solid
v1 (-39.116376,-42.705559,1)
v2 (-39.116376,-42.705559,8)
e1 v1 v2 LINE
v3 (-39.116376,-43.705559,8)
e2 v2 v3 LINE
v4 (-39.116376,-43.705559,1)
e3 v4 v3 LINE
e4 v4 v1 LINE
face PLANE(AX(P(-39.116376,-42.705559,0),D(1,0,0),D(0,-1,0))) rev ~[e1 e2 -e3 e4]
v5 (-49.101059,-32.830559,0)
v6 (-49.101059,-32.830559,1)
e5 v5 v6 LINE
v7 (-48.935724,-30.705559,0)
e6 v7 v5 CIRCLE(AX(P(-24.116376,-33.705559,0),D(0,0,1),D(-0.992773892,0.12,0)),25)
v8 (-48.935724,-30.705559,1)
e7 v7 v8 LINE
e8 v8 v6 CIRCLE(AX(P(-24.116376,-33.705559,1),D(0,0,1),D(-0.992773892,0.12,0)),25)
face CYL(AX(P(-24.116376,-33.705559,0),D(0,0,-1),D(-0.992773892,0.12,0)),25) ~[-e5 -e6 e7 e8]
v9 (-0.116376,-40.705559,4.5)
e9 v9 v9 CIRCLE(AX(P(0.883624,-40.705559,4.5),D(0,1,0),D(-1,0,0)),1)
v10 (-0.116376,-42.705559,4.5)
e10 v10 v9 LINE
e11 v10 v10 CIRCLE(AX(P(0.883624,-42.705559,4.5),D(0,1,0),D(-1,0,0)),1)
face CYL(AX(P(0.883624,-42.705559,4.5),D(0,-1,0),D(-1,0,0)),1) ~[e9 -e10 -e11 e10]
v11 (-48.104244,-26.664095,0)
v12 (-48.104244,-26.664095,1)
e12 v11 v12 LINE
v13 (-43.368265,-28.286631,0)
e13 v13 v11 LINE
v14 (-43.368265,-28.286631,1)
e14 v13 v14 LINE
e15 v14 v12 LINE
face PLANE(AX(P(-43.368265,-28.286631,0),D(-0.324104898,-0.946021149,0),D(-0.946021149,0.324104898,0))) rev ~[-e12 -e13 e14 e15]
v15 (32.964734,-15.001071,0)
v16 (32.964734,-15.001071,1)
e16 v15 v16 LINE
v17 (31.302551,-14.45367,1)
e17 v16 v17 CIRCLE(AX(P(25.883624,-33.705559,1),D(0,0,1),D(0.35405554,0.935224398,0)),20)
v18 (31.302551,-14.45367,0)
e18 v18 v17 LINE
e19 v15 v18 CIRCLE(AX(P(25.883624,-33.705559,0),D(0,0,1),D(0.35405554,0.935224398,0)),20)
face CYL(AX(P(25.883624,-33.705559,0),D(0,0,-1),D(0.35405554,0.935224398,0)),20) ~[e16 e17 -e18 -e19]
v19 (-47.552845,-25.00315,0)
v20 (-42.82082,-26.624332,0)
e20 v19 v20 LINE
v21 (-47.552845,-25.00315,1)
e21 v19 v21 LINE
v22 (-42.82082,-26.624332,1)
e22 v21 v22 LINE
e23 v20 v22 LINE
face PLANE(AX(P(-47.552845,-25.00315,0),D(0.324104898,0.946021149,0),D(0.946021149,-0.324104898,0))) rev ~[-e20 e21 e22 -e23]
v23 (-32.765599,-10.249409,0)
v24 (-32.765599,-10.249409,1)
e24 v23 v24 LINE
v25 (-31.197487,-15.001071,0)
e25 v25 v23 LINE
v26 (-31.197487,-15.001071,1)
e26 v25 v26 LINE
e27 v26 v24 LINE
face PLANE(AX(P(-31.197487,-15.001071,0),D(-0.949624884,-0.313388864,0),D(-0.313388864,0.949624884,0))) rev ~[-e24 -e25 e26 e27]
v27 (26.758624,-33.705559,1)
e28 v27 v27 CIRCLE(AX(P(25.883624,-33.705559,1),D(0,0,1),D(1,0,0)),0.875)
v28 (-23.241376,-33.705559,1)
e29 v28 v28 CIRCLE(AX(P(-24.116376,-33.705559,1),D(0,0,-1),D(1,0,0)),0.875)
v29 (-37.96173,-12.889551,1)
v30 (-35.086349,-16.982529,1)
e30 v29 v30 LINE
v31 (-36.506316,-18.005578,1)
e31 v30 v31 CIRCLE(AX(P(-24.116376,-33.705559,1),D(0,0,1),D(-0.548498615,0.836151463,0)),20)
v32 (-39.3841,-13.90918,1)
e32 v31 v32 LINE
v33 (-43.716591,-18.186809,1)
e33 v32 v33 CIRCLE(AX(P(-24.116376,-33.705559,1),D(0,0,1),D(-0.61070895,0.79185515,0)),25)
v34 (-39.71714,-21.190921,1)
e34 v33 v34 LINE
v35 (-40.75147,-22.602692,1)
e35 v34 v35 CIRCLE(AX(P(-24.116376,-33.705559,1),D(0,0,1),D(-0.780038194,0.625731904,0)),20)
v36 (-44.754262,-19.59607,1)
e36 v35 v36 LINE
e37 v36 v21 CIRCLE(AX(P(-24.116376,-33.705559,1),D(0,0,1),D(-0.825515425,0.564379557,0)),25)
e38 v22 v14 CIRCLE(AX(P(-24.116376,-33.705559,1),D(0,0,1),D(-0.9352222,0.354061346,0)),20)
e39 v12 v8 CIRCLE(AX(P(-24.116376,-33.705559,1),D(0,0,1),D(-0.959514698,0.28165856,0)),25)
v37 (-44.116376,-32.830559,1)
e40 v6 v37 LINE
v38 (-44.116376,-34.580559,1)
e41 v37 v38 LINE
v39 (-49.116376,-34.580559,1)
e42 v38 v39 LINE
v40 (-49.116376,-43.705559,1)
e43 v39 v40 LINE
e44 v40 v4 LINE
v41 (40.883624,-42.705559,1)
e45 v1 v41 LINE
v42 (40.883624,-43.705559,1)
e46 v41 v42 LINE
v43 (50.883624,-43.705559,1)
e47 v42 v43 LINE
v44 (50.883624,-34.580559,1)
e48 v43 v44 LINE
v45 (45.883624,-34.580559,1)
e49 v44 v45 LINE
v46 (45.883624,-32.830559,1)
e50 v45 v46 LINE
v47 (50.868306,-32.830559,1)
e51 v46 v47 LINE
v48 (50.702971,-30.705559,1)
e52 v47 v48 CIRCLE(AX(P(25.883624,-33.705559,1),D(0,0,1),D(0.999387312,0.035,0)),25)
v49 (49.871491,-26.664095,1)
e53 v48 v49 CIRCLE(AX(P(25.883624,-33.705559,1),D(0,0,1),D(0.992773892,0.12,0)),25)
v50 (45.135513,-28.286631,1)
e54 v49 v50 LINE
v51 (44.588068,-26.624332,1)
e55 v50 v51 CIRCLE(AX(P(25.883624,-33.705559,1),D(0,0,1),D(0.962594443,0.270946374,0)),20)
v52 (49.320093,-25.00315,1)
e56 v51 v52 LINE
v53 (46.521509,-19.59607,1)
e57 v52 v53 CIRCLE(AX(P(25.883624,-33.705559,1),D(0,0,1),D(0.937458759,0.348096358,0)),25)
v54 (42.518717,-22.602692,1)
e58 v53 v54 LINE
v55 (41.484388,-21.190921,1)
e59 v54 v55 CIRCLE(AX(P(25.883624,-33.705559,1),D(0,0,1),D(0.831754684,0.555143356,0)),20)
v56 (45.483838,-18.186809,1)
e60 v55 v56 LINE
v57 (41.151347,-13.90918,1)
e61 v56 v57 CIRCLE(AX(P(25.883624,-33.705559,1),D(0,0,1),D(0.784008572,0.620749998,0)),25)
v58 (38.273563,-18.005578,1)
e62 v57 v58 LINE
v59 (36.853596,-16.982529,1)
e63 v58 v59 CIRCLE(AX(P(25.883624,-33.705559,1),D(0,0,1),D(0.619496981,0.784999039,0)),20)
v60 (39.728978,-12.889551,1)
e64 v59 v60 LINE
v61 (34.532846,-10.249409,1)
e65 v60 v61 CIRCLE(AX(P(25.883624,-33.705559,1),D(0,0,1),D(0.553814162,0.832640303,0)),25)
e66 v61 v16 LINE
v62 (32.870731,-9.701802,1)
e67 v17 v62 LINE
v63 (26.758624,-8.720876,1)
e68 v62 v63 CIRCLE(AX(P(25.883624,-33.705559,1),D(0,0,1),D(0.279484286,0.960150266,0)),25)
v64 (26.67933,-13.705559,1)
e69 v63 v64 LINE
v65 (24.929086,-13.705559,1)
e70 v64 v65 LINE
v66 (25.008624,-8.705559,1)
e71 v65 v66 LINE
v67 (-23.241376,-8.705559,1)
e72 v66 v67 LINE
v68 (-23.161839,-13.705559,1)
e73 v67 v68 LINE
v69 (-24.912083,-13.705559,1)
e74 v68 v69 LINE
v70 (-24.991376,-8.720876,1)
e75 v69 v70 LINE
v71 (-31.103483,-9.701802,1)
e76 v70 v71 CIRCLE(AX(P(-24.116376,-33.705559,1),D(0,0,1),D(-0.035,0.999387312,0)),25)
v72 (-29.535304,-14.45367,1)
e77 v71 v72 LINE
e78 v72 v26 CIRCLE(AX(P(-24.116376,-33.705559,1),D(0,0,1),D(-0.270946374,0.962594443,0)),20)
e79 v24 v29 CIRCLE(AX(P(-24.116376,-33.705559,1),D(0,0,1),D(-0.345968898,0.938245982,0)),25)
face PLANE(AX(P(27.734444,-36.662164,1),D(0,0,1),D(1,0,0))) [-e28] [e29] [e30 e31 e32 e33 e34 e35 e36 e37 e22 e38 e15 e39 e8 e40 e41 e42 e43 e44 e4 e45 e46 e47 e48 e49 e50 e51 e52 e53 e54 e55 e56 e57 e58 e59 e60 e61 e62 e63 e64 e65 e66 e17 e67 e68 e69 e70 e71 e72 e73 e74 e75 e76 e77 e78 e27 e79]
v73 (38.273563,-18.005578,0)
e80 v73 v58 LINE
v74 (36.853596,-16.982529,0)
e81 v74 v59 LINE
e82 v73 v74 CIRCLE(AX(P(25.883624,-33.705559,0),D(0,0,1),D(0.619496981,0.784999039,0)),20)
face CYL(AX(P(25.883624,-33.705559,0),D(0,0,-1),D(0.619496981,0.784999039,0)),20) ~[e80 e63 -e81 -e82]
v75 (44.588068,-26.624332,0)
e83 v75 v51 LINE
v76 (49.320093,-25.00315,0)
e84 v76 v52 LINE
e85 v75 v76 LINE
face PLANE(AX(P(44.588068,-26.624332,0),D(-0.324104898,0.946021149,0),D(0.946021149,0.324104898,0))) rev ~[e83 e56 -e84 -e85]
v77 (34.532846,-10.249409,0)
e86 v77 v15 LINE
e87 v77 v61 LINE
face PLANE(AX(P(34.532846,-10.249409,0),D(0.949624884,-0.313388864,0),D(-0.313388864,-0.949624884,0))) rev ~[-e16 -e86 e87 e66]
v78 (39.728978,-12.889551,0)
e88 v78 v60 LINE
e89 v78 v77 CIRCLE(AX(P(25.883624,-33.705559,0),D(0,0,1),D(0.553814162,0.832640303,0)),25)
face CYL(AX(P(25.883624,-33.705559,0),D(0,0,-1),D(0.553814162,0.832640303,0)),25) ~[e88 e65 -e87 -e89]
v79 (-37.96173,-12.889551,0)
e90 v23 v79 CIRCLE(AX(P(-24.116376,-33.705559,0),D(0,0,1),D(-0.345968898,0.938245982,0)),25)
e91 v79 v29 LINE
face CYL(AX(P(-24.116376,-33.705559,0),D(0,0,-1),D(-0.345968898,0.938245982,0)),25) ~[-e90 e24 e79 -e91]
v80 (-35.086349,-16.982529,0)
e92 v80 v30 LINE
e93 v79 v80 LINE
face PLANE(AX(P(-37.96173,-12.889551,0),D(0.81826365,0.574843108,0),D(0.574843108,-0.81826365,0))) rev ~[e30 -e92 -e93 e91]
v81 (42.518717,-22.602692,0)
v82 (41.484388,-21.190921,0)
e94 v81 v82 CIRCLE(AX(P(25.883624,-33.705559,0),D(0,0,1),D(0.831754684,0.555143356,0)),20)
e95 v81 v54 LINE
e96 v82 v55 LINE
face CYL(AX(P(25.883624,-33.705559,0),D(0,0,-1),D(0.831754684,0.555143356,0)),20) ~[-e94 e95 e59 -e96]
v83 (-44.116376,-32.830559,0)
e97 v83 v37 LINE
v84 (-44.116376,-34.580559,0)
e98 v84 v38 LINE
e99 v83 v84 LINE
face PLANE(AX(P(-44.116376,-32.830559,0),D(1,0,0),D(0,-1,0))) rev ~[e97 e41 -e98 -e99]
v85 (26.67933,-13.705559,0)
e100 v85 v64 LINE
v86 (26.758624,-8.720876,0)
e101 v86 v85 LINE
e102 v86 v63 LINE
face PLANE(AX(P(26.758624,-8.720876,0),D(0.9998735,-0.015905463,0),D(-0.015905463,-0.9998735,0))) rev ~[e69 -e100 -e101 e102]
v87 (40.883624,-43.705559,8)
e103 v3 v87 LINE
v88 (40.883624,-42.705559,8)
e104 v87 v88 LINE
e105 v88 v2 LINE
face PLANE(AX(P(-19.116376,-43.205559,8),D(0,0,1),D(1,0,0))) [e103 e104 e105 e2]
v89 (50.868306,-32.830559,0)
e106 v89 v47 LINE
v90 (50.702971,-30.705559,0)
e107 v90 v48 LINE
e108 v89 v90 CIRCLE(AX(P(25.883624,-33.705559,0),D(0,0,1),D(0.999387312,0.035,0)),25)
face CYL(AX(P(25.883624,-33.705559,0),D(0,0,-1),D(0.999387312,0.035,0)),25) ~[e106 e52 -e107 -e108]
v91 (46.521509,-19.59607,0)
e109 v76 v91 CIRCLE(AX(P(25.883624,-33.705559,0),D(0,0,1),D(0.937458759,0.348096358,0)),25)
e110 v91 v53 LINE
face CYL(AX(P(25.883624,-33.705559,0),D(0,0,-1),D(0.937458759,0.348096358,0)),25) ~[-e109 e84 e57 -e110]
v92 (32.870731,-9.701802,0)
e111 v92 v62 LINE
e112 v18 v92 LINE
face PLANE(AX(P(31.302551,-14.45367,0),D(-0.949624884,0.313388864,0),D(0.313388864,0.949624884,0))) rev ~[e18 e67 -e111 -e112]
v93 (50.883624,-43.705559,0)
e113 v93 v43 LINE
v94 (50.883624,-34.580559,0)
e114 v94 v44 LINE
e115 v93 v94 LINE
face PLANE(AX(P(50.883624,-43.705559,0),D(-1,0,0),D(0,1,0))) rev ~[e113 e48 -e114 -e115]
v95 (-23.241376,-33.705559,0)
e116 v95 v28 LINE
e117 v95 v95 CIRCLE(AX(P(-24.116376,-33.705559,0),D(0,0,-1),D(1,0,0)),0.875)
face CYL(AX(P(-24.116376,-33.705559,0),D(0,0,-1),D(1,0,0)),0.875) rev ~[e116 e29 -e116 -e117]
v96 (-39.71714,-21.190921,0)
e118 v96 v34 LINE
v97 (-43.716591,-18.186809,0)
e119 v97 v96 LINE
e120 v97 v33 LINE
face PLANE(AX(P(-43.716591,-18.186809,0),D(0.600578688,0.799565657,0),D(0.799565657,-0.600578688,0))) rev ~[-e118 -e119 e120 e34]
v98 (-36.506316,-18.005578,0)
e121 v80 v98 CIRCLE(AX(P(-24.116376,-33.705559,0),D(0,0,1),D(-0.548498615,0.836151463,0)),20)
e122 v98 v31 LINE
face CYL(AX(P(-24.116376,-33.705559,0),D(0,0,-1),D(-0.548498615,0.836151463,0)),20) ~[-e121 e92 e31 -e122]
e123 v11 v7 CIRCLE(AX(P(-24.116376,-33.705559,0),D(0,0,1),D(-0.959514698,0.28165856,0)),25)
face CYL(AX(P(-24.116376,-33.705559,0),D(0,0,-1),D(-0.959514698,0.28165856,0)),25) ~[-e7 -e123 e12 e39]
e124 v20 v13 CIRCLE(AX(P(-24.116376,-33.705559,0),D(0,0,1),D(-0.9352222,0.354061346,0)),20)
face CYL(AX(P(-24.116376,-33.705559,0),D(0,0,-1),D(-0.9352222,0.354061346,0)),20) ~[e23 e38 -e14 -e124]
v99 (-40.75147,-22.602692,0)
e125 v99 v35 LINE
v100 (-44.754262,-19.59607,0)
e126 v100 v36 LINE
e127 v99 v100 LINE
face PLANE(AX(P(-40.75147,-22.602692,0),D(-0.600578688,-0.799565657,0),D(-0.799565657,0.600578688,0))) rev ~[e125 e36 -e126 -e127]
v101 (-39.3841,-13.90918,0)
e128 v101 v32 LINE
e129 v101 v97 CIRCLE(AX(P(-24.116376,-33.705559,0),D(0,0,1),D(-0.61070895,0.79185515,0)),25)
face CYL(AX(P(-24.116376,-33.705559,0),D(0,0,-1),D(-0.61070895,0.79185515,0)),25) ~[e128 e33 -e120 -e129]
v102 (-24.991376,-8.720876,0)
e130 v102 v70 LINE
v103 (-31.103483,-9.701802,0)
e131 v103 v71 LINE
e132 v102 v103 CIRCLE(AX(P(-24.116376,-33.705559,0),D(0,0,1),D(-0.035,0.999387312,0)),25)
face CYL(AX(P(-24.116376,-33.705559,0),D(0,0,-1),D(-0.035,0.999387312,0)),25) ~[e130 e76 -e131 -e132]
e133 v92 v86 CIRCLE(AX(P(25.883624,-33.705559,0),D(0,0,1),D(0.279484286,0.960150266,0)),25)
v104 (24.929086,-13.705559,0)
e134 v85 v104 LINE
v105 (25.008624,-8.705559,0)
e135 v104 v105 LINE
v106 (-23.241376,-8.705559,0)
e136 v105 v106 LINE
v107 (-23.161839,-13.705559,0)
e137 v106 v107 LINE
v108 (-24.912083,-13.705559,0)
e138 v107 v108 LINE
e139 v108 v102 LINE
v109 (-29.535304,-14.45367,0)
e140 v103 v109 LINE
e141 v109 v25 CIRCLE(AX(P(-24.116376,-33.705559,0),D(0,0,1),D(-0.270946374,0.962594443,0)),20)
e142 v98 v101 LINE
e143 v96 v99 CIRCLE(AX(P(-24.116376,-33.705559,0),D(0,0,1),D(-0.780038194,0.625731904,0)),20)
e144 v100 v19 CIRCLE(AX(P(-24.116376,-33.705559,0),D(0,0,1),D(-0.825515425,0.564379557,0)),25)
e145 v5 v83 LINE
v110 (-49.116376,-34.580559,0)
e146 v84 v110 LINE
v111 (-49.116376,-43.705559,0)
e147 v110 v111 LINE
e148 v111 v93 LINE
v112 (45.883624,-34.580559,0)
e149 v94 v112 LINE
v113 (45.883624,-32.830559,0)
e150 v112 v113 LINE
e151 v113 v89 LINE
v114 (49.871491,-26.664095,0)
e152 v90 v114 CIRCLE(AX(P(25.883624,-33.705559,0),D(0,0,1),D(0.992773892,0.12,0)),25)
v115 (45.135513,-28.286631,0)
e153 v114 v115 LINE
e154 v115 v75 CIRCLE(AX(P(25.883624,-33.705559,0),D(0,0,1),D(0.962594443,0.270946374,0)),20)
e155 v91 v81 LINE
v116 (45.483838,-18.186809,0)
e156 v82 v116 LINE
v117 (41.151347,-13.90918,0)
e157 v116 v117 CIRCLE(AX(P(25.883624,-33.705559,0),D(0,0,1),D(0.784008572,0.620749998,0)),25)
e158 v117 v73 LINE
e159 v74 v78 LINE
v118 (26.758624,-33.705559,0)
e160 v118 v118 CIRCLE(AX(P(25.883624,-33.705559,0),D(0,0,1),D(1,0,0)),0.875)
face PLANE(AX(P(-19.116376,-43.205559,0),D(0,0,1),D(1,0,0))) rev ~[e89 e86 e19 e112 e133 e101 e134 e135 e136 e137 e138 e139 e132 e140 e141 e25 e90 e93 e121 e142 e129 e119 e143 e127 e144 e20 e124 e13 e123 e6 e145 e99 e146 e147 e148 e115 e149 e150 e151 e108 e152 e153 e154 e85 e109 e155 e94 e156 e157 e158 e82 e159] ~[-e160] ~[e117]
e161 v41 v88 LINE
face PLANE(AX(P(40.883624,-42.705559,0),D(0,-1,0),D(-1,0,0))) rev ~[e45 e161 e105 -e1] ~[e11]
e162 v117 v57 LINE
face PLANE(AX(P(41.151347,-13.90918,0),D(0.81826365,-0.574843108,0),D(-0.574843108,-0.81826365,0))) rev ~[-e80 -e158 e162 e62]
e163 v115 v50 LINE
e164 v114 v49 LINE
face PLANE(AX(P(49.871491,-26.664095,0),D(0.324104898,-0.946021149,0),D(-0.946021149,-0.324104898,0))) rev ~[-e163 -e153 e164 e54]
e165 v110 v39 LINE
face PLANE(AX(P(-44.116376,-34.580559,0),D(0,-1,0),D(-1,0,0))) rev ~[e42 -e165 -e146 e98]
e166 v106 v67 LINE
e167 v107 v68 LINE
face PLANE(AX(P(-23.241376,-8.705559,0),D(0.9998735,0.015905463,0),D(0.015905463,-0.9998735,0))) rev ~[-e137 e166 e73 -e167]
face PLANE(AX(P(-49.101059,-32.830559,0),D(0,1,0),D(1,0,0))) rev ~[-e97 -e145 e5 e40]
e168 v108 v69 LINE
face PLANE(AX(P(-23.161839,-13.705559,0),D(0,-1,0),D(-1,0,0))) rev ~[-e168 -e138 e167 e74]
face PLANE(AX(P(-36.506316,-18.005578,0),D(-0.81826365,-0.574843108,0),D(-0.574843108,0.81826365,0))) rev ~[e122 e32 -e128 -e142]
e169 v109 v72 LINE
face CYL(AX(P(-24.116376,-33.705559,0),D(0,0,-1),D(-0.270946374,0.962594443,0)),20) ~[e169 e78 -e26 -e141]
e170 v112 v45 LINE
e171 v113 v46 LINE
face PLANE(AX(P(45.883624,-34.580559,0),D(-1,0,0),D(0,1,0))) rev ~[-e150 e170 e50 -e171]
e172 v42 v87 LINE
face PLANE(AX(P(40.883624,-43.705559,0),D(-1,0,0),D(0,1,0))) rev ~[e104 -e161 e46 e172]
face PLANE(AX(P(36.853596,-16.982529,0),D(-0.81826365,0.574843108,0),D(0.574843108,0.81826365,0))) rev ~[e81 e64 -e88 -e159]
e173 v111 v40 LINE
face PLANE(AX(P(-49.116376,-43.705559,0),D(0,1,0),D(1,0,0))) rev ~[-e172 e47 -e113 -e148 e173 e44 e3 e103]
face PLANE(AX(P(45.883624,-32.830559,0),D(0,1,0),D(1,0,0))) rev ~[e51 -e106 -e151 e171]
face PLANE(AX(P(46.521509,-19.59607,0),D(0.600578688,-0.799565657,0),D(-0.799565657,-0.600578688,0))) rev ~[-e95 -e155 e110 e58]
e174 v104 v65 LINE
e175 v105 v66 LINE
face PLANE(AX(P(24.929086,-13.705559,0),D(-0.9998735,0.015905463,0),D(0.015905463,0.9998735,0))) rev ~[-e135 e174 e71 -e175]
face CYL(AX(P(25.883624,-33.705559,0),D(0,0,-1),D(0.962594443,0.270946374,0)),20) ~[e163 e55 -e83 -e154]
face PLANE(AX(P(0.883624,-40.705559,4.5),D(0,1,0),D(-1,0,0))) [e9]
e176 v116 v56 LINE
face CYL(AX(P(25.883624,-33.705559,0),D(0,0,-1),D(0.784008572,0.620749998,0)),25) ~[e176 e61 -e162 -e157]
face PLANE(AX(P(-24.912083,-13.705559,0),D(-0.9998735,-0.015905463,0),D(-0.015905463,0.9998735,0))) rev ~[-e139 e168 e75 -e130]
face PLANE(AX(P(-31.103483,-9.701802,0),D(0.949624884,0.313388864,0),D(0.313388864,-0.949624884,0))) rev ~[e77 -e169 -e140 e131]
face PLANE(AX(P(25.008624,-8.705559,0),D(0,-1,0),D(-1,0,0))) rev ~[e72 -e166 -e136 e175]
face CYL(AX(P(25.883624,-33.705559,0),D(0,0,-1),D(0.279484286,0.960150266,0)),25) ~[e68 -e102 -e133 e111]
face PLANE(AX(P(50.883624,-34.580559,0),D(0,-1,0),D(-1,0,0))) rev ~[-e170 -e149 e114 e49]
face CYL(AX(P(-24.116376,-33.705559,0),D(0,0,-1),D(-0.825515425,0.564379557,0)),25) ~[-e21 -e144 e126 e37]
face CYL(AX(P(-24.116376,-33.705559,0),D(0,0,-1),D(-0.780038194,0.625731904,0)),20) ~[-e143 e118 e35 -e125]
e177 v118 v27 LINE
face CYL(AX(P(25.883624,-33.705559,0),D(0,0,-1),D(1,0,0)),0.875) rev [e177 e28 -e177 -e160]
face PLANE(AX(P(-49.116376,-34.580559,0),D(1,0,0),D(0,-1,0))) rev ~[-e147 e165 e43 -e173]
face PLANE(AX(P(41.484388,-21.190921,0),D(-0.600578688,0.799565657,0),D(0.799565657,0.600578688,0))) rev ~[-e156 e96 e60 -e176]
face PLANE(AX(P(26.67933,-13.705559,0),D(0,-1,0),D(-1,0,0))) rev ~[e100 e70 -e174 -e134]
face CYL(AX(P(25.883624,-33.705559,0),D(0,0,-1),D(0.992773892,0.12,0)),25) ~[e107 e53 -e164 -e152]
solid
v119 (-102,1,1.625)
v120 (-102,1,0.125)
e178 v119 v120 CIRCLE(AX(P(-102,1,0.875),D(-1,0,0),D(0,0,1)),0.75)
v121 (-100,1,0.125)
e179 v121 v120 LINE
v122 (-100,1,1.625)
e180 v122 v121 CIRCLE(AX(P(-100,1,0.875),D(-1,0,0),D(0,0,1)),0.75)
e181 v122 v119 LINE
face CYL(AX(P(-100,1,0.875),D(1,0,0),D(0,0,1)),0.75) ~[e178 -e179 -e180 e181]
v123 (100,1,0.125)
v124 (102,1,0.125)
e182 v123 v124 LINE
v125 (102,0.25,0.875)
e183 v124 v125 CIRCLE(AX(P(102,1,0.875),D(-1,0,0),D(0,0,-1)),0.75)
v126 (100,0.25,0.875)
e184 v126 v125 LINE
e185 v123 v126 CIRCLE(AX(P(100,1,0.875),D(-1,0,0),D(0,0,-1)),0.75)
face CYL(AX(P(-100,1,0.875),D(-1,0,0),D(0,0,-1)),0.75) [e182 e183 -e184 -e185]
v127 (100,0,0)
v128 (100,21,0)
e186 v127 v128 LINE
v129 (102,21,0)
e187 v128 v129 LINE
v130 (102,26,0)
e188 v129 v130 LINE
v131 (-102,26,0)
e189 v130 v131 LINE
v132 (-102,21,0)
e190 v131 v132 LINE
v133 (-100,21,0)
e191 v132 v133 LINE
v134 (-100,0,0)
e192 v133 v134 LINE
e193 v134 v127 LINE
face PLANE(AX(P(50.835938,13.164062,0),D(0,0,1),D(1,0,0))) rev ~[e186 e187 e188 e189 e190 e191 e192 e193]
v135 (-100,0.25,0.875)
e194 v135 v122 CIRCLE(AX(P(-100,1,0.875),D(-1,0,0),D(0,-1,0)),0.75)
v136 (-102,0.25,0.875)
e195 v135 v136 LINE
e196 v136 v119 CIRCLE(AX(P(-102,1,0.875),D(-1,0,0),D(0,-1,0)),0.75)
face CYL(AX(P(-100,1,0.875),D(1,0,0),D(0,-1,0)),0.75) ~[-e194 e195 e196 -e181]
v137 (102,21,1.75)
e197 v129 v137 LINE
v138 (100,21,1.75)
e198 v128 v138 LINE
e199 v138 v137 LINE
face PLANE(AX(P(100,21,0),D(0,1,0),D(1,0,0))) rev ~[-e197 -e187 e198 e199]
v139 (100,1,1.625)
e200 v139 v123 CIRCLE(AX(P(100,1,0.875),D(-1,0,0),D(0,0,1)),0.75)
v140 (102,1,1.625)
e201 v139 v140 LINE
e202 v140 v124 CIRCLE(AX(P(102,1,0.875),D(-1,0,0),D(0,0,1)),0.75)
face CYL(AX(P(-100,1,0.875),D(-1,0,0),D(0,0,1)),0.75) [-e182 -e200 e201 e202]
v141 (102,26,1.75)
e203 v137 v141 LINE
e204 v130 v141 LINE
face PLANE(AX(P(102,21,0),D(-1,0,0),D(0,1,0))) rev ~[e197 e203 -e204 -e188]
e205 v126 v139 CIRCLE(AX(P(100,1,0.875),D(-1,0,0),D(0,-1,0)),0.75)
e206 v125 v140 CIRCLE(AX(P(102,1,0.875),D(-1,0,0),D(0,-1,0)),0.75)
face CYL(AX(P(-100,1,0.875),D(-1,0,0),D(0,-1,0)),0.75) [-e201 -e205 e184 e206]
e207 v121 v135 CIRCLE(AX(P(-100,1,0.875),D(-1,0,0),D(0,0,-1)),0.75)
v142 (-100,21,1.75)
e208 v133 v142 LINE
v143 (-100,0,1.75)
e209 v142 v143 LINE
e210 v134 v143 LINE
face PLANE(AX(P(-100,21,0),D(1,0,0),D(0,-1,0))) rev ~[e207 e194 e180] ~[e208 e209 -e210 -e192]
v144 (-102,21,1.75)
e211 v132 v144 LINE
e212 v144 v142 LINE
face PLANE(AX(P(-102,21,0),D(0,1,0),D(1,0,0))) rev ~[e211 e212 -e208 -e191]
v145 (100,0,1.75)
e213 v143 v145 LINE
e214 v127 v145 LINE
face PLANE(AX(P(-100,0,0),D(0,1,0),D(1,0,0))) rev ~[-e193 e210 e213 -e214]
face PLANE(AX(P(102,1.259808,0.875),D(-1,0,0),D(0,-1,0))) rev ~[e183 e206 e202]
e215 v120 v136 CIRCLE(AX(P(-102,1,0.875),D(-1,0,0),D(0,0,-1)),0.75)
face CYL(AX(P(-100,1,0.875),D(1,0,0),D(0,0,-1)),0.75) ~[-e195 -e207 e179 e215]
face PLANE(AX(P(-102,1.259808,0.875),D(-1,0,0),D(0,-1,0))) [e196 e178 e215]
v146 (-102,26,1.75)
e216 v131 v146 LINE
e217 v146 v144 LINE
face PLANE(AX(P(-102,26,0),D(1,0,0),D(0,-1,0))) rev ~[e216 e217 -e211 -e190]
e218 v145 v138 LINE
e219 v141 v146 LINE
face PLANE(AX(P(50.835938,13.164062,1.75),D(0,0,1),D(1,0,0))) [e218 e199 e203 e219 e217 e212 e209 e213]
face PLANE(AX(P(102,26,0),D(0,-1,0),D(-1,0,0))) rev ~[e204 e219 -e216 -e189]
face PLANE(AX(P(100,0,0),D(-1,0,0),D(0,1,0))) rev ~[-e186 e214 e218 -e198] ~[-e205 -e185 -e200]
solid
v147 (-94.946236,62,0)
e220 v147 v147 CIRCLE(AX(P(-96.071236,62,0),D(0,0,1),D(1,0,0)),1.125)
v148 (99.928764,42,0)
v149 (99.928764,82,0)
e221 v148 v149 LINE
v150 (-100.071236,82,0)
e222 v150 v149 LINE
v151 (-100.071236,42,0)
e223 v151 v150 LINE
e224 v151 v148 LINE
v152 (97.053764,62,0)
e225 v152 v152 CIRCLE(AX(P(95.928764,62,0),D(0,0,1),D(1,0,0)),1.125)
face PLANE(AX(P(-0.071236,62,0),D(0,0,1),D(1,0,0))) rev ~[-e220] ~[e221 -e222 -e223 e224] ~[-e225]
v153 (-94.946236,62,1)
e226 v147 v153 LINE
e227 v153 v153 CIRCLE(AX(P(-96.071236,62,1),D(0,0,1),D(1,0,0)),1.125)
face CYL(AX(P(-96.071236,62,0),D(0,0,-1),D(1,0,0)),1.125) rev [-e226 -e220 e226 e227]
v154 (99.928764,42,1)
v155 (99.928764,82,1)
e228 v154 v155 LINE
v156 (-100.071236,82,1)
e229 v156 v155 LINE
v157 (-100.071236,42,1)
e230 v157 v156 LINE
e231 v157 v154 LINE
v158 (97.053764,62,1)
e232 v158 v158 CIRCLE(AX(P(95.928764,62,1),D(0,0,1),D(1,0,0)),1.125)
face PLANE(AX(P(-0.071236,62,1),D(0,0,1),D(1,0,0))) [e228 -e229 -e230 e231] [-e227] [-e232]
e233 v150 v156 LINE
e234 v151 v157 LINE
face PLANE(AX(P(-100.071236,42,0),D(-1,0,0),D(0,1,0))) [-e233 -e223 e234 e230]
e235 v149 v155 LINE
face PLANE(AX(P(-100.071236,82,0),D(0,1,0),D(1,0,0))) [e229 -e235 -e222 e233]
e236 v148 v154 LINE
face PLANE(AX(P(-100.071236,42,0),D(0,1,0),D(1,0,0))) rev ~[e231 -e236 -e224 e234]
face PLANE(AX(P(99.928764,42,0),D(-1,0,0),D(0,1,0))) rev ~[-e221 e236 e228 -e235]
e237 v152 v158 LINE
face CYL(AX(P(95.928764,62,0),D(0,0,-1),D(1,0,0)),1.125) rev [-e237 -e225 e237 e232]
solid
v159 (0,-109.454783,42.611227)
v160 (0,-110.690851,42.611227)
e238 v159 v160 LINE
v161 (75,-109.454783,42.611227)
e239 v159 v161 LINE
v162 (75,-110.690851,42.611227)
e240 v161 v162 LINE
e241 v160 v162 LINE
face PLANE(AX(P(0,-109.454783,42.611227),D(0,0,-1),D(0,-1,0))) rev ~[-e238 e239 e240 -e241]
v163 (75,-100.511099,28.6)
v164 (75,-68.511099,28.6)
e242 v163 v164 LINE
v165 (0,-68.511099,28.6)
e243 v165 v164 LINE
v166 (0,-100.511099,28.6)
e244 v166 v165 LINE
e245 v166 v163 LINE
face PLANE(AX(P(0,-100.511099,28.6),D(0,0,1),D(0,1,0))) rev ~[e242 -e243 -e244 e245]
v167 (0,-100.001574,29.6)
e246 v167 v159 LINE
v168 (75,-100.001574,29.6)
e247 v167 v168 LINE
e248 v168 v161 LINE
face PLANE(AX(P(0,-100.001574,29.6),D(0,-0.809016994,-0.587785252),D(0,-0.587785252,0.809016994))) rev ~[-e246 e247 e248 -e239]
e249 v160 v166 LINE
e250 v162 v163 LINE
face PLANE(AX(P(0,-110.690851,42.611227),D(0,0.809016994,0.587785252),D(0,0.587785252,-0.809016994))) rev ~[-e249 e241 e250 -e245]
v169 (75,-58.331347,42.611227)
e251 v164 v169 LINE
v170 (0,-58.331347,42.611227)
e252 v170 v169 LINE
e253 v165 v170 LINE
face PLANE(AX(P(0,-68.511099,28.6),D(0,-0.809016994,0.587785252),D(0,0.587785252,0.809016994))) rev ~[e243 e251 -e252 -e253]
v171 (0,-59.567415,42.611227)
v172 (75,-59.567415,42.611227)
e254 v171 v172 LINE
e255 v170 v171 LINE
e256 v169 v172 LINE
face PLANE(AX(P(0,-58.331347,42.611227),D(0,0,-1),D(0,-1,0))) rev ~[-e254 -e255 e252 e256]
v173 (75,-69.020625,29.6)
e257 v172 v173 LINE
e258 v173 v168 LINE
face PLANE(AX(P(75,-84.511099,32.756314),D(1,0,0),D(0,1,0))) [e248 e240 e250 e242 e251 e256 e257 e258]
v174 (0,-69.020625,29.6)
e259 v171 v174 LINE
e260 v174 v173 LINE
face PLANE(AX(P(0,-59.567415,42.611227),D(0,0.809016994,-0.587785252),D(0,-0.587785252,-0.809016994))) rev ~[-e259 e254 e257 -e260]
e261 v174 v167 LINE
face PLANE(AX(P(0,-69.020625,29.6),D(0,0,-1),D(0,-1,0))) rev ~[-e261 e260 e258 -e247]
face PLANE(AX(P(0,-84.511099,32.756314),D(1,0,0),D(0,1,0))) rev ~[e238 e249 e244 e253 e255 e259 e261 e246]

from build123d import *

# Parameters (mm, degrees)
F1_R      = 0.875
F2_DEPTH  = 1
F3_DEPTH  = 1.75
F4_DEPTH  = 8
F5_R      = 1
F6_DEPTH  = 2
F7_W      = 200
F7_H      = 40
F7_R      = 1.125
F8_DEPTH  = 1
F10_DEPTH = 2
F11_DEPTH = 202
F13_DEPTH = 75


with BuildPart() as f2:
    # F1 (on Top) → F2 (new body)
    with BuildSketch(Plane.XY):
        with BuildLine():
            Line((0.8836236666, -30.7055586278), (0.8836236666, -33.7055586278))
            Line((0.8836236666, -33.7055586278), (0.8836236666, -42.7055586278))
            Line((0.8836236666, -42.7055586278), (40.8836236666, -42.7055586278))
            Line((40.8836236666, -42.7055586278), (40.8836236666, -43.7055586278))
            Line((40.8836236666, -43.7055586278), (50.8836236666, -43.7055586278))
            Line((50.8836236666, -43.7055586278), (50.8836236666, -34.5805586278))
            Line((50.8836236666, -34.5805586278), (45.8836236666, -34.5805586278))
            Line((45.8836236666, -34.5805586278), (45.8836236666, -32.8305586278))
            Line((45.8836236666, -32.8305586278), (50.8683064743, -32.8305586278))
            ThreePointArc((50.8683064743, -32.8305586278), (50.8082953754, -31.7662958277), (50.7029709586, -30.7055586278))
            Line((50.7029709586, -30.7055586278), (25.8836236666, -30.7055586278))
            Line((25.8836236666, -30.7055586278), (20.8836236666, -30.7055586278))
            Line((20.8836236666, -30.7055586278), (0.8836236666, -30.7055586278))
        make_face()
        with Locations((25.8836236666, -33.7055586278)):
            Circle(F1_R, mode=Mode.SUBTRACT)
        with BuildLine():
            Line((-9.8663763334, -33.7055586278), (0.8836236666, -33.7055586278))
            Line((0.8836236666, -33.7055586278), (0.8836236666, -30.7055586278))
            Line((0.8836236666, -30.7055586278), (-19.1163763334, -30.7055586278))
            Line((-19.1163763334, -30.7055586278), (-24.1163763334, -30.7055586278))
            Line((-24.1163763334, -30.7055586278), (-48.9357236254, -30.7055586278))
            ThreePointArc((-48.9357236254, -30.7055586278), (-49.0410480422, -31.7662958277), (-49.1010591411, -32.8305586278))
            Line((-49.1010591411, -32.8305586278), (-44.1163763334, -32.8305586278))
            Line((-44.1163763334, -32.8305586278), (-44.1163763334, -33.7055586278))
            Line((-44.1163763334, -33.7055586278), (-24.9913763334, -33.7055586278))
            ThreePointArc((-24.9913763334, -33.7055586278), (-24.1163763334, -32.8305586278), (-23.2413763334, -33.7055586278))
            Line((-23.2413763334, -33.7055586278), (-9.8663763334, -33.7055586278))
        make_face()
        with BuildLine():
            Line((0.8836236666, -42.7055586278), (0.8836236666, -33.7055586278))
            Line((0.8836236666, -33.7055586278), (-9.8663763334, -33.7055586278))
            Line((-9.8663763334, -33.7055586278), (-23.2413763334, -33.7055586278))
            ThreePointArc((-23.2413763334, -33.7055586278), (-24.1163763334, -34.5805586278), (-24.9913763334, -33.7055586278))
            Line((-24.9913763334, -33.7055586278), (-44.1163763334, -33.7055586278))
            Line((-44.1163763334, -33.7055586278), (-44.1163763334, -34.5805586278))
            Line((-44.1163763334, -34.5805586278), (-49.1163763334, -34.5805586278))
            Line((-49.1163763334, -34.5805586278), (-49.1163763334, -43.7055586278))
            Line((-49.1163763334, -43.7055586278), (-39.1163763334, -43.7055586278))
            Line((-39.1163763334, -43.7055586278), (-39.1163763334, -42.7055586278))
            Line((-39.1163763334, -42.7055586278), (0.8836236666, -42.7055586278))
        make_face()
        with BuildLine():
            Line((-19.1163763334, -30.7055586278), (0.8836236666, -30.7055586278))
            Line((0.8836236666, -30.7055586278), (0.8836236666, -8.7055586278))
            Line((0.8836236666, -8.7055586278), (-23.2413763334, -8.7055586278))
            Line((-23.2413763334, -8.7055586278), (-23.1618389561, -13.7055586278))
            Line((-23.1618389561, -13.7055586278), (-24.1163763334, -13.7055586278))
            Line((-24.1163763334, -13.7055586278), (-24.912082614, -13.7055586278))
            Line((-24.912082614, -13.7055586278), (-24.9913763334, -8.7208758202))
            ThreePointArc((-24.9913763334, -8.7208758202), (-28.077908395, -9.0214288331), (-31.1034834927, -9.701801973))
            Line((-31.1034834927, -9.701801973), (-29.5353038107, -14.4536697596))
            ThreePointArc((-29.5353038107, -14.4536697596), (-30.3723855414, -14.7091813735), (-31.1974871395, -15.0010706704))
            Line((-31.1974871395, -15.0010706704), (-32.7655987712, -10.2494090883))
            ThreePointArc((-32.7655987712, -10.2494090883), (-35.440866625, -11.4175367409), (-37.9617303934, -12.8895510627))
            Line((-37.9617303934, -12.8895510627), (-35.0863486412, -16.9825293698))
            ThreePointArc((-35.0863486412, -16.9825293698), (-35.8075280429, -17.4785141741), (-36.5063159472, -18.0055778519))
            Line((-36.5063159472, -18.0055778519), (-39.3841000729, -13.9091798727))
            ThreePointArc((-39.3841000729, -13.9091798727), (-41.6810511869, -15.9156121048), (-43.7165906252, -18.1868086874))
            Line((-43.7165906252, -18.1868086874), (-39.7171402185, -21.1909205507))
            ThreePointArc((-39.7171402185, -21.1909205507), (-40.2497548544, -21.8854868219), (-40.7514700108, -22.6026915051))
            Line((-40.7514700108, -22.6026915051), (-44.7542619472, -19.5960697147))
            ThreePointArc((-44.7542619472, -19.5960697147), (-46.318770614, -22.214097093), (-47.5528453195, -25.0031496818))
            Line((-47.5528453195, -25.0031496818), (-42.8208203298, -26.6243317012))
            ThreePointArc((-42.8208203298, -26.6243317012), (-43.1127341685, -27.4494904535), (-43.3682652017, -28.2866311505))
            Line((-43.3682652017, -28.2866311505), (-48.1042437851, -26.664094638))
            ThreePointArc((-48.1042437851, -26.664094638), (-48.6035037794, -28.6676434394), (-48.9357236254, -30.7055586278))
            Line((-48.9357236254, -30.7055586278), (-24.1163763334, -30.7055586278))
            Line((-24.1163763334, -30.7055586278), (-19.1163763334, -30.7055586278))
        make_face()
        with BuildLine():
            Line((0.8836236666, -8.7055586278), (0.8836236666, -30.7055586278))
            Line((0.8836236666, -30.7055586278), (20.8836236666, -30.7055586278))
            Line((20.8836236666, -30.7055586278), (25.8836236666, -30.7055586278))
            Line((25.8836236666, -30.7055586278), (50.7029709586, -30.7055586278))
            ThreePointArc((50.7029709586, -30.7055586278), (50.3707511125, -28.6676434394), (49.8714911183, -26.664094638))
            Line((49.8714911183, -26.664094638), (45.1355125348, -28.2866311505))
            ThreePointArc((45.1355125348, -28.2866311505), (44.8799815016, -27.4494904535), (44.588067663, -26.6243317012))
            Line((44.588067663, -26.6243317012), (49.3200926527, -25.0031496818))
            ThreePointArc((49.3200926527, -25.0031496818), (48.0860179472, -22.214097093), (46.5215092804, -19.5960697147))
            Line((46.5215092804, -19.5960697147), (42.518717344, -22.6026915051))
            ThreePointArc((42.518717344, -22.6026915051), (42.0170021876, -21.8854868219), (41.4843875517, -21.1909205507))
            Line((41.4843875517, -21.1909205507), (45.4838379584, -18.1868086874))
            ThreePointArc((45.4838379584, -18.1868086874), (43.4482985201, -15.9156121048), (41.1513474061, -13.9091798727))
            Line((41.1513474061, -13.9091798727), (38.2735632804, -18.0055778519))
            ThreePointArc((38.2735632804, -18.0055778519), (37.5747753761, -17.4785141741), (36.8535959744, -16.9825293698))
            Line((36.8535959744, -16.9825293698), (39.7289777266, -12.8895510627))
            ThreePointArc((39.7289777266, -12.8895510627), (37.2081139582, -11.4175367409), (34.5328461044, -10.2494090883))
            Line((34.5328461044, -10.2494090883), (32.9647344727, -15.0010706704))
            ThreePointArc((32.9647344727, -15.0010706704), (32.1396328746, -14.7091813735), (31.3025511439, -14.4536697596))
            Line((31.3025511439, -14.4536697596), (32.8707308259, -9.701801973))
            ThreePointArc((32.8707308259, -9.701801973), (29.8451557282, -9.0214288331), (26.7586236666, -8.7208758202))
            Line((26.7586236666, -8.7208758202), (26.6793299472, -13.7055586278))
            Line((26.6793299472, -13.7055586278), (25.8836236666, -13.7055586278))
            Line((25.8836236666, -13.7055586278), (24.9290862893, -13.7055586278))
            Line((24.9290862893, -13.7055586278), (25.0086236666, -8.7055586278))
            Line((25.0086236666, -8.7055586278), (0.8836236666, -8.7055586278))
        make_face()
        Polygon((0.8836236666, -43.7055586278), (0.8836236666, -42.7055586278), (-39.1163763334, -42.7055586278), (-39.1163763334, -43.7055586278), (-9.1163763334, -43.7055586278), align=None)
        Polygon((40.8836236666, -42.7055586278), (0.8836236666, -42.7055586278), (0.8836236666, -43.7055586278), (5.8836236666, -43.7055586278), (10.8836236666, -43.7055586278), (40.8836236666, -43.7055586278), align=None)
    extrude(amount=F2_DEPTH)

    # F1 (on Top) → F4 (join)
    with BuildSketch(Plane.XY):
        Polygon((0.8836236666, -43.7055586278), (0.8836236666, -42.7055586278), (-39.1163763334, -42.7055586278), (-39.1163763334, -43.7055586278), (-9.1163763334, -43.7055586278), align=None)
        Polygon((40.8836236666, -42.7055586278), (0.8836236666, -42.7055586278), (0.8836236666, -43.7055586278), (5.8836236666, -43.7055586278), (10.8836236666, -43.7055586278), (40.8836236666, -43.7055586278), align=None)
    extrude(amount=F4_DEPTH)

    # F5 (on face) → F6 (join)
    with BuildSketch(Plane(origin=(0, -42.7055586278, 0), x_dir=(-1, 0, 0), z_dir=(0, 1, 0))):
        with Locations((-0.8836236666, 4.5)):
            Circle(F5_R)
    extrude(amount=F6_DEPTH)


with BuildPart() as f3:
    # F0 (on Top) → F3 (new body)
    with BuildSketch(Plane.XY):
        Polygon((0, 26), (0, 0), (100, 0), (100, 21), (102, 21), (102, 26), align=None)
        Polygon((-100, 0), (0, 0), (0, 26), (-102, 26), (-102, 21), (-100, 21), align=None)
    extrude(amount=F3_DEPTH)

    # F9 (on face) → F10 (join)
    with BuildSketch(Plane(origin=(-100, 0, 0), x_dir=(0, -1, 0), z_dir=(-1, 0, 0))):
        with BuildLine():
            ThreePointArc((-1, 1.625), (-1.75, 0.875), (-1, 0.125))
            Line((-1, 0.125), (-1, 1.625))
        make_face()
        with BuildLine():
            Line((-1, 1.625), (-1, 0.125))
            ThreePointArc((-1, 0.125), (-0.4696699141, 0.3446699141), (-0.25, 0.875))
            ThreePointArc((-0.25, 0.875), (-0.4696699141, 1.4053300859), (-1, 1.625))
        make_face()
    extrude(amount=F10_DEPTH)

    # F9 (on face) → F11 (join)
    with BuildSketch(Plane(origin=(-100, 0, 0), x_dir=(0, -1, 0), z_dir=(-1, 0, 0))):
        with BuildLine():
            ThreePointArc((-1, 1.625), (-1.75, 0.875), (-1, 0.125))
            Line((-1, 0.125), (-1, 1.625))
        make_face()
        with BuildLine():
            Line((-1, 1.625), (-1, 0.125))
            ThreePointArc((-1, 0.125), (-0.4696699141, 0.3446699141), (-0.25, 0.875))
            ThreePointArc((-0.25, 0.875), (-0.4696699141, 1.4053300859), (-1, 1.625))
        make_face()
    extrude(amount=-F11_DEPTH)


with BuildPart() as f8:
    # F7 (on Top) → F8 (new body)
    with BuildSketch(Plane.XY):
        with Locations((-0.0712359548, 62)):
            Rectangle(F7_W, F7_H)
        with Locations((-96.0712359548, 62)):
            Circle(F7_R, mode=Mode.SUBTRACT)
        with Locations((95.9287640452, 62)):
            Circle(F7_R, mode=Mode.SUBTRACT)
    extrude(amount=F8_DEPTH)


with BuildPart() as f13:
    # F12 (on Right) → F13 (new body)
    with BuildSketch(Plane.YZ):
        Polygon((-100.5110992908, 28.6), (-84.5110992908, 28.6), (-68.5110992908, 28.6), (-58.3313473489, 42.6112265278), (-59.5674153264, 42.6112265278), (-69.0206247403, 29.6), (-84.5110992908, 29.6), (-100.0015738414, 29.6), (-109.4547832553, 42.6112265278), (-110.6908512328, 42.6112265278), align=None)
    extrude(amount=F13_DEPTH)


solid = Compound([f2.part, f3.part, f8.part, f13.part])
